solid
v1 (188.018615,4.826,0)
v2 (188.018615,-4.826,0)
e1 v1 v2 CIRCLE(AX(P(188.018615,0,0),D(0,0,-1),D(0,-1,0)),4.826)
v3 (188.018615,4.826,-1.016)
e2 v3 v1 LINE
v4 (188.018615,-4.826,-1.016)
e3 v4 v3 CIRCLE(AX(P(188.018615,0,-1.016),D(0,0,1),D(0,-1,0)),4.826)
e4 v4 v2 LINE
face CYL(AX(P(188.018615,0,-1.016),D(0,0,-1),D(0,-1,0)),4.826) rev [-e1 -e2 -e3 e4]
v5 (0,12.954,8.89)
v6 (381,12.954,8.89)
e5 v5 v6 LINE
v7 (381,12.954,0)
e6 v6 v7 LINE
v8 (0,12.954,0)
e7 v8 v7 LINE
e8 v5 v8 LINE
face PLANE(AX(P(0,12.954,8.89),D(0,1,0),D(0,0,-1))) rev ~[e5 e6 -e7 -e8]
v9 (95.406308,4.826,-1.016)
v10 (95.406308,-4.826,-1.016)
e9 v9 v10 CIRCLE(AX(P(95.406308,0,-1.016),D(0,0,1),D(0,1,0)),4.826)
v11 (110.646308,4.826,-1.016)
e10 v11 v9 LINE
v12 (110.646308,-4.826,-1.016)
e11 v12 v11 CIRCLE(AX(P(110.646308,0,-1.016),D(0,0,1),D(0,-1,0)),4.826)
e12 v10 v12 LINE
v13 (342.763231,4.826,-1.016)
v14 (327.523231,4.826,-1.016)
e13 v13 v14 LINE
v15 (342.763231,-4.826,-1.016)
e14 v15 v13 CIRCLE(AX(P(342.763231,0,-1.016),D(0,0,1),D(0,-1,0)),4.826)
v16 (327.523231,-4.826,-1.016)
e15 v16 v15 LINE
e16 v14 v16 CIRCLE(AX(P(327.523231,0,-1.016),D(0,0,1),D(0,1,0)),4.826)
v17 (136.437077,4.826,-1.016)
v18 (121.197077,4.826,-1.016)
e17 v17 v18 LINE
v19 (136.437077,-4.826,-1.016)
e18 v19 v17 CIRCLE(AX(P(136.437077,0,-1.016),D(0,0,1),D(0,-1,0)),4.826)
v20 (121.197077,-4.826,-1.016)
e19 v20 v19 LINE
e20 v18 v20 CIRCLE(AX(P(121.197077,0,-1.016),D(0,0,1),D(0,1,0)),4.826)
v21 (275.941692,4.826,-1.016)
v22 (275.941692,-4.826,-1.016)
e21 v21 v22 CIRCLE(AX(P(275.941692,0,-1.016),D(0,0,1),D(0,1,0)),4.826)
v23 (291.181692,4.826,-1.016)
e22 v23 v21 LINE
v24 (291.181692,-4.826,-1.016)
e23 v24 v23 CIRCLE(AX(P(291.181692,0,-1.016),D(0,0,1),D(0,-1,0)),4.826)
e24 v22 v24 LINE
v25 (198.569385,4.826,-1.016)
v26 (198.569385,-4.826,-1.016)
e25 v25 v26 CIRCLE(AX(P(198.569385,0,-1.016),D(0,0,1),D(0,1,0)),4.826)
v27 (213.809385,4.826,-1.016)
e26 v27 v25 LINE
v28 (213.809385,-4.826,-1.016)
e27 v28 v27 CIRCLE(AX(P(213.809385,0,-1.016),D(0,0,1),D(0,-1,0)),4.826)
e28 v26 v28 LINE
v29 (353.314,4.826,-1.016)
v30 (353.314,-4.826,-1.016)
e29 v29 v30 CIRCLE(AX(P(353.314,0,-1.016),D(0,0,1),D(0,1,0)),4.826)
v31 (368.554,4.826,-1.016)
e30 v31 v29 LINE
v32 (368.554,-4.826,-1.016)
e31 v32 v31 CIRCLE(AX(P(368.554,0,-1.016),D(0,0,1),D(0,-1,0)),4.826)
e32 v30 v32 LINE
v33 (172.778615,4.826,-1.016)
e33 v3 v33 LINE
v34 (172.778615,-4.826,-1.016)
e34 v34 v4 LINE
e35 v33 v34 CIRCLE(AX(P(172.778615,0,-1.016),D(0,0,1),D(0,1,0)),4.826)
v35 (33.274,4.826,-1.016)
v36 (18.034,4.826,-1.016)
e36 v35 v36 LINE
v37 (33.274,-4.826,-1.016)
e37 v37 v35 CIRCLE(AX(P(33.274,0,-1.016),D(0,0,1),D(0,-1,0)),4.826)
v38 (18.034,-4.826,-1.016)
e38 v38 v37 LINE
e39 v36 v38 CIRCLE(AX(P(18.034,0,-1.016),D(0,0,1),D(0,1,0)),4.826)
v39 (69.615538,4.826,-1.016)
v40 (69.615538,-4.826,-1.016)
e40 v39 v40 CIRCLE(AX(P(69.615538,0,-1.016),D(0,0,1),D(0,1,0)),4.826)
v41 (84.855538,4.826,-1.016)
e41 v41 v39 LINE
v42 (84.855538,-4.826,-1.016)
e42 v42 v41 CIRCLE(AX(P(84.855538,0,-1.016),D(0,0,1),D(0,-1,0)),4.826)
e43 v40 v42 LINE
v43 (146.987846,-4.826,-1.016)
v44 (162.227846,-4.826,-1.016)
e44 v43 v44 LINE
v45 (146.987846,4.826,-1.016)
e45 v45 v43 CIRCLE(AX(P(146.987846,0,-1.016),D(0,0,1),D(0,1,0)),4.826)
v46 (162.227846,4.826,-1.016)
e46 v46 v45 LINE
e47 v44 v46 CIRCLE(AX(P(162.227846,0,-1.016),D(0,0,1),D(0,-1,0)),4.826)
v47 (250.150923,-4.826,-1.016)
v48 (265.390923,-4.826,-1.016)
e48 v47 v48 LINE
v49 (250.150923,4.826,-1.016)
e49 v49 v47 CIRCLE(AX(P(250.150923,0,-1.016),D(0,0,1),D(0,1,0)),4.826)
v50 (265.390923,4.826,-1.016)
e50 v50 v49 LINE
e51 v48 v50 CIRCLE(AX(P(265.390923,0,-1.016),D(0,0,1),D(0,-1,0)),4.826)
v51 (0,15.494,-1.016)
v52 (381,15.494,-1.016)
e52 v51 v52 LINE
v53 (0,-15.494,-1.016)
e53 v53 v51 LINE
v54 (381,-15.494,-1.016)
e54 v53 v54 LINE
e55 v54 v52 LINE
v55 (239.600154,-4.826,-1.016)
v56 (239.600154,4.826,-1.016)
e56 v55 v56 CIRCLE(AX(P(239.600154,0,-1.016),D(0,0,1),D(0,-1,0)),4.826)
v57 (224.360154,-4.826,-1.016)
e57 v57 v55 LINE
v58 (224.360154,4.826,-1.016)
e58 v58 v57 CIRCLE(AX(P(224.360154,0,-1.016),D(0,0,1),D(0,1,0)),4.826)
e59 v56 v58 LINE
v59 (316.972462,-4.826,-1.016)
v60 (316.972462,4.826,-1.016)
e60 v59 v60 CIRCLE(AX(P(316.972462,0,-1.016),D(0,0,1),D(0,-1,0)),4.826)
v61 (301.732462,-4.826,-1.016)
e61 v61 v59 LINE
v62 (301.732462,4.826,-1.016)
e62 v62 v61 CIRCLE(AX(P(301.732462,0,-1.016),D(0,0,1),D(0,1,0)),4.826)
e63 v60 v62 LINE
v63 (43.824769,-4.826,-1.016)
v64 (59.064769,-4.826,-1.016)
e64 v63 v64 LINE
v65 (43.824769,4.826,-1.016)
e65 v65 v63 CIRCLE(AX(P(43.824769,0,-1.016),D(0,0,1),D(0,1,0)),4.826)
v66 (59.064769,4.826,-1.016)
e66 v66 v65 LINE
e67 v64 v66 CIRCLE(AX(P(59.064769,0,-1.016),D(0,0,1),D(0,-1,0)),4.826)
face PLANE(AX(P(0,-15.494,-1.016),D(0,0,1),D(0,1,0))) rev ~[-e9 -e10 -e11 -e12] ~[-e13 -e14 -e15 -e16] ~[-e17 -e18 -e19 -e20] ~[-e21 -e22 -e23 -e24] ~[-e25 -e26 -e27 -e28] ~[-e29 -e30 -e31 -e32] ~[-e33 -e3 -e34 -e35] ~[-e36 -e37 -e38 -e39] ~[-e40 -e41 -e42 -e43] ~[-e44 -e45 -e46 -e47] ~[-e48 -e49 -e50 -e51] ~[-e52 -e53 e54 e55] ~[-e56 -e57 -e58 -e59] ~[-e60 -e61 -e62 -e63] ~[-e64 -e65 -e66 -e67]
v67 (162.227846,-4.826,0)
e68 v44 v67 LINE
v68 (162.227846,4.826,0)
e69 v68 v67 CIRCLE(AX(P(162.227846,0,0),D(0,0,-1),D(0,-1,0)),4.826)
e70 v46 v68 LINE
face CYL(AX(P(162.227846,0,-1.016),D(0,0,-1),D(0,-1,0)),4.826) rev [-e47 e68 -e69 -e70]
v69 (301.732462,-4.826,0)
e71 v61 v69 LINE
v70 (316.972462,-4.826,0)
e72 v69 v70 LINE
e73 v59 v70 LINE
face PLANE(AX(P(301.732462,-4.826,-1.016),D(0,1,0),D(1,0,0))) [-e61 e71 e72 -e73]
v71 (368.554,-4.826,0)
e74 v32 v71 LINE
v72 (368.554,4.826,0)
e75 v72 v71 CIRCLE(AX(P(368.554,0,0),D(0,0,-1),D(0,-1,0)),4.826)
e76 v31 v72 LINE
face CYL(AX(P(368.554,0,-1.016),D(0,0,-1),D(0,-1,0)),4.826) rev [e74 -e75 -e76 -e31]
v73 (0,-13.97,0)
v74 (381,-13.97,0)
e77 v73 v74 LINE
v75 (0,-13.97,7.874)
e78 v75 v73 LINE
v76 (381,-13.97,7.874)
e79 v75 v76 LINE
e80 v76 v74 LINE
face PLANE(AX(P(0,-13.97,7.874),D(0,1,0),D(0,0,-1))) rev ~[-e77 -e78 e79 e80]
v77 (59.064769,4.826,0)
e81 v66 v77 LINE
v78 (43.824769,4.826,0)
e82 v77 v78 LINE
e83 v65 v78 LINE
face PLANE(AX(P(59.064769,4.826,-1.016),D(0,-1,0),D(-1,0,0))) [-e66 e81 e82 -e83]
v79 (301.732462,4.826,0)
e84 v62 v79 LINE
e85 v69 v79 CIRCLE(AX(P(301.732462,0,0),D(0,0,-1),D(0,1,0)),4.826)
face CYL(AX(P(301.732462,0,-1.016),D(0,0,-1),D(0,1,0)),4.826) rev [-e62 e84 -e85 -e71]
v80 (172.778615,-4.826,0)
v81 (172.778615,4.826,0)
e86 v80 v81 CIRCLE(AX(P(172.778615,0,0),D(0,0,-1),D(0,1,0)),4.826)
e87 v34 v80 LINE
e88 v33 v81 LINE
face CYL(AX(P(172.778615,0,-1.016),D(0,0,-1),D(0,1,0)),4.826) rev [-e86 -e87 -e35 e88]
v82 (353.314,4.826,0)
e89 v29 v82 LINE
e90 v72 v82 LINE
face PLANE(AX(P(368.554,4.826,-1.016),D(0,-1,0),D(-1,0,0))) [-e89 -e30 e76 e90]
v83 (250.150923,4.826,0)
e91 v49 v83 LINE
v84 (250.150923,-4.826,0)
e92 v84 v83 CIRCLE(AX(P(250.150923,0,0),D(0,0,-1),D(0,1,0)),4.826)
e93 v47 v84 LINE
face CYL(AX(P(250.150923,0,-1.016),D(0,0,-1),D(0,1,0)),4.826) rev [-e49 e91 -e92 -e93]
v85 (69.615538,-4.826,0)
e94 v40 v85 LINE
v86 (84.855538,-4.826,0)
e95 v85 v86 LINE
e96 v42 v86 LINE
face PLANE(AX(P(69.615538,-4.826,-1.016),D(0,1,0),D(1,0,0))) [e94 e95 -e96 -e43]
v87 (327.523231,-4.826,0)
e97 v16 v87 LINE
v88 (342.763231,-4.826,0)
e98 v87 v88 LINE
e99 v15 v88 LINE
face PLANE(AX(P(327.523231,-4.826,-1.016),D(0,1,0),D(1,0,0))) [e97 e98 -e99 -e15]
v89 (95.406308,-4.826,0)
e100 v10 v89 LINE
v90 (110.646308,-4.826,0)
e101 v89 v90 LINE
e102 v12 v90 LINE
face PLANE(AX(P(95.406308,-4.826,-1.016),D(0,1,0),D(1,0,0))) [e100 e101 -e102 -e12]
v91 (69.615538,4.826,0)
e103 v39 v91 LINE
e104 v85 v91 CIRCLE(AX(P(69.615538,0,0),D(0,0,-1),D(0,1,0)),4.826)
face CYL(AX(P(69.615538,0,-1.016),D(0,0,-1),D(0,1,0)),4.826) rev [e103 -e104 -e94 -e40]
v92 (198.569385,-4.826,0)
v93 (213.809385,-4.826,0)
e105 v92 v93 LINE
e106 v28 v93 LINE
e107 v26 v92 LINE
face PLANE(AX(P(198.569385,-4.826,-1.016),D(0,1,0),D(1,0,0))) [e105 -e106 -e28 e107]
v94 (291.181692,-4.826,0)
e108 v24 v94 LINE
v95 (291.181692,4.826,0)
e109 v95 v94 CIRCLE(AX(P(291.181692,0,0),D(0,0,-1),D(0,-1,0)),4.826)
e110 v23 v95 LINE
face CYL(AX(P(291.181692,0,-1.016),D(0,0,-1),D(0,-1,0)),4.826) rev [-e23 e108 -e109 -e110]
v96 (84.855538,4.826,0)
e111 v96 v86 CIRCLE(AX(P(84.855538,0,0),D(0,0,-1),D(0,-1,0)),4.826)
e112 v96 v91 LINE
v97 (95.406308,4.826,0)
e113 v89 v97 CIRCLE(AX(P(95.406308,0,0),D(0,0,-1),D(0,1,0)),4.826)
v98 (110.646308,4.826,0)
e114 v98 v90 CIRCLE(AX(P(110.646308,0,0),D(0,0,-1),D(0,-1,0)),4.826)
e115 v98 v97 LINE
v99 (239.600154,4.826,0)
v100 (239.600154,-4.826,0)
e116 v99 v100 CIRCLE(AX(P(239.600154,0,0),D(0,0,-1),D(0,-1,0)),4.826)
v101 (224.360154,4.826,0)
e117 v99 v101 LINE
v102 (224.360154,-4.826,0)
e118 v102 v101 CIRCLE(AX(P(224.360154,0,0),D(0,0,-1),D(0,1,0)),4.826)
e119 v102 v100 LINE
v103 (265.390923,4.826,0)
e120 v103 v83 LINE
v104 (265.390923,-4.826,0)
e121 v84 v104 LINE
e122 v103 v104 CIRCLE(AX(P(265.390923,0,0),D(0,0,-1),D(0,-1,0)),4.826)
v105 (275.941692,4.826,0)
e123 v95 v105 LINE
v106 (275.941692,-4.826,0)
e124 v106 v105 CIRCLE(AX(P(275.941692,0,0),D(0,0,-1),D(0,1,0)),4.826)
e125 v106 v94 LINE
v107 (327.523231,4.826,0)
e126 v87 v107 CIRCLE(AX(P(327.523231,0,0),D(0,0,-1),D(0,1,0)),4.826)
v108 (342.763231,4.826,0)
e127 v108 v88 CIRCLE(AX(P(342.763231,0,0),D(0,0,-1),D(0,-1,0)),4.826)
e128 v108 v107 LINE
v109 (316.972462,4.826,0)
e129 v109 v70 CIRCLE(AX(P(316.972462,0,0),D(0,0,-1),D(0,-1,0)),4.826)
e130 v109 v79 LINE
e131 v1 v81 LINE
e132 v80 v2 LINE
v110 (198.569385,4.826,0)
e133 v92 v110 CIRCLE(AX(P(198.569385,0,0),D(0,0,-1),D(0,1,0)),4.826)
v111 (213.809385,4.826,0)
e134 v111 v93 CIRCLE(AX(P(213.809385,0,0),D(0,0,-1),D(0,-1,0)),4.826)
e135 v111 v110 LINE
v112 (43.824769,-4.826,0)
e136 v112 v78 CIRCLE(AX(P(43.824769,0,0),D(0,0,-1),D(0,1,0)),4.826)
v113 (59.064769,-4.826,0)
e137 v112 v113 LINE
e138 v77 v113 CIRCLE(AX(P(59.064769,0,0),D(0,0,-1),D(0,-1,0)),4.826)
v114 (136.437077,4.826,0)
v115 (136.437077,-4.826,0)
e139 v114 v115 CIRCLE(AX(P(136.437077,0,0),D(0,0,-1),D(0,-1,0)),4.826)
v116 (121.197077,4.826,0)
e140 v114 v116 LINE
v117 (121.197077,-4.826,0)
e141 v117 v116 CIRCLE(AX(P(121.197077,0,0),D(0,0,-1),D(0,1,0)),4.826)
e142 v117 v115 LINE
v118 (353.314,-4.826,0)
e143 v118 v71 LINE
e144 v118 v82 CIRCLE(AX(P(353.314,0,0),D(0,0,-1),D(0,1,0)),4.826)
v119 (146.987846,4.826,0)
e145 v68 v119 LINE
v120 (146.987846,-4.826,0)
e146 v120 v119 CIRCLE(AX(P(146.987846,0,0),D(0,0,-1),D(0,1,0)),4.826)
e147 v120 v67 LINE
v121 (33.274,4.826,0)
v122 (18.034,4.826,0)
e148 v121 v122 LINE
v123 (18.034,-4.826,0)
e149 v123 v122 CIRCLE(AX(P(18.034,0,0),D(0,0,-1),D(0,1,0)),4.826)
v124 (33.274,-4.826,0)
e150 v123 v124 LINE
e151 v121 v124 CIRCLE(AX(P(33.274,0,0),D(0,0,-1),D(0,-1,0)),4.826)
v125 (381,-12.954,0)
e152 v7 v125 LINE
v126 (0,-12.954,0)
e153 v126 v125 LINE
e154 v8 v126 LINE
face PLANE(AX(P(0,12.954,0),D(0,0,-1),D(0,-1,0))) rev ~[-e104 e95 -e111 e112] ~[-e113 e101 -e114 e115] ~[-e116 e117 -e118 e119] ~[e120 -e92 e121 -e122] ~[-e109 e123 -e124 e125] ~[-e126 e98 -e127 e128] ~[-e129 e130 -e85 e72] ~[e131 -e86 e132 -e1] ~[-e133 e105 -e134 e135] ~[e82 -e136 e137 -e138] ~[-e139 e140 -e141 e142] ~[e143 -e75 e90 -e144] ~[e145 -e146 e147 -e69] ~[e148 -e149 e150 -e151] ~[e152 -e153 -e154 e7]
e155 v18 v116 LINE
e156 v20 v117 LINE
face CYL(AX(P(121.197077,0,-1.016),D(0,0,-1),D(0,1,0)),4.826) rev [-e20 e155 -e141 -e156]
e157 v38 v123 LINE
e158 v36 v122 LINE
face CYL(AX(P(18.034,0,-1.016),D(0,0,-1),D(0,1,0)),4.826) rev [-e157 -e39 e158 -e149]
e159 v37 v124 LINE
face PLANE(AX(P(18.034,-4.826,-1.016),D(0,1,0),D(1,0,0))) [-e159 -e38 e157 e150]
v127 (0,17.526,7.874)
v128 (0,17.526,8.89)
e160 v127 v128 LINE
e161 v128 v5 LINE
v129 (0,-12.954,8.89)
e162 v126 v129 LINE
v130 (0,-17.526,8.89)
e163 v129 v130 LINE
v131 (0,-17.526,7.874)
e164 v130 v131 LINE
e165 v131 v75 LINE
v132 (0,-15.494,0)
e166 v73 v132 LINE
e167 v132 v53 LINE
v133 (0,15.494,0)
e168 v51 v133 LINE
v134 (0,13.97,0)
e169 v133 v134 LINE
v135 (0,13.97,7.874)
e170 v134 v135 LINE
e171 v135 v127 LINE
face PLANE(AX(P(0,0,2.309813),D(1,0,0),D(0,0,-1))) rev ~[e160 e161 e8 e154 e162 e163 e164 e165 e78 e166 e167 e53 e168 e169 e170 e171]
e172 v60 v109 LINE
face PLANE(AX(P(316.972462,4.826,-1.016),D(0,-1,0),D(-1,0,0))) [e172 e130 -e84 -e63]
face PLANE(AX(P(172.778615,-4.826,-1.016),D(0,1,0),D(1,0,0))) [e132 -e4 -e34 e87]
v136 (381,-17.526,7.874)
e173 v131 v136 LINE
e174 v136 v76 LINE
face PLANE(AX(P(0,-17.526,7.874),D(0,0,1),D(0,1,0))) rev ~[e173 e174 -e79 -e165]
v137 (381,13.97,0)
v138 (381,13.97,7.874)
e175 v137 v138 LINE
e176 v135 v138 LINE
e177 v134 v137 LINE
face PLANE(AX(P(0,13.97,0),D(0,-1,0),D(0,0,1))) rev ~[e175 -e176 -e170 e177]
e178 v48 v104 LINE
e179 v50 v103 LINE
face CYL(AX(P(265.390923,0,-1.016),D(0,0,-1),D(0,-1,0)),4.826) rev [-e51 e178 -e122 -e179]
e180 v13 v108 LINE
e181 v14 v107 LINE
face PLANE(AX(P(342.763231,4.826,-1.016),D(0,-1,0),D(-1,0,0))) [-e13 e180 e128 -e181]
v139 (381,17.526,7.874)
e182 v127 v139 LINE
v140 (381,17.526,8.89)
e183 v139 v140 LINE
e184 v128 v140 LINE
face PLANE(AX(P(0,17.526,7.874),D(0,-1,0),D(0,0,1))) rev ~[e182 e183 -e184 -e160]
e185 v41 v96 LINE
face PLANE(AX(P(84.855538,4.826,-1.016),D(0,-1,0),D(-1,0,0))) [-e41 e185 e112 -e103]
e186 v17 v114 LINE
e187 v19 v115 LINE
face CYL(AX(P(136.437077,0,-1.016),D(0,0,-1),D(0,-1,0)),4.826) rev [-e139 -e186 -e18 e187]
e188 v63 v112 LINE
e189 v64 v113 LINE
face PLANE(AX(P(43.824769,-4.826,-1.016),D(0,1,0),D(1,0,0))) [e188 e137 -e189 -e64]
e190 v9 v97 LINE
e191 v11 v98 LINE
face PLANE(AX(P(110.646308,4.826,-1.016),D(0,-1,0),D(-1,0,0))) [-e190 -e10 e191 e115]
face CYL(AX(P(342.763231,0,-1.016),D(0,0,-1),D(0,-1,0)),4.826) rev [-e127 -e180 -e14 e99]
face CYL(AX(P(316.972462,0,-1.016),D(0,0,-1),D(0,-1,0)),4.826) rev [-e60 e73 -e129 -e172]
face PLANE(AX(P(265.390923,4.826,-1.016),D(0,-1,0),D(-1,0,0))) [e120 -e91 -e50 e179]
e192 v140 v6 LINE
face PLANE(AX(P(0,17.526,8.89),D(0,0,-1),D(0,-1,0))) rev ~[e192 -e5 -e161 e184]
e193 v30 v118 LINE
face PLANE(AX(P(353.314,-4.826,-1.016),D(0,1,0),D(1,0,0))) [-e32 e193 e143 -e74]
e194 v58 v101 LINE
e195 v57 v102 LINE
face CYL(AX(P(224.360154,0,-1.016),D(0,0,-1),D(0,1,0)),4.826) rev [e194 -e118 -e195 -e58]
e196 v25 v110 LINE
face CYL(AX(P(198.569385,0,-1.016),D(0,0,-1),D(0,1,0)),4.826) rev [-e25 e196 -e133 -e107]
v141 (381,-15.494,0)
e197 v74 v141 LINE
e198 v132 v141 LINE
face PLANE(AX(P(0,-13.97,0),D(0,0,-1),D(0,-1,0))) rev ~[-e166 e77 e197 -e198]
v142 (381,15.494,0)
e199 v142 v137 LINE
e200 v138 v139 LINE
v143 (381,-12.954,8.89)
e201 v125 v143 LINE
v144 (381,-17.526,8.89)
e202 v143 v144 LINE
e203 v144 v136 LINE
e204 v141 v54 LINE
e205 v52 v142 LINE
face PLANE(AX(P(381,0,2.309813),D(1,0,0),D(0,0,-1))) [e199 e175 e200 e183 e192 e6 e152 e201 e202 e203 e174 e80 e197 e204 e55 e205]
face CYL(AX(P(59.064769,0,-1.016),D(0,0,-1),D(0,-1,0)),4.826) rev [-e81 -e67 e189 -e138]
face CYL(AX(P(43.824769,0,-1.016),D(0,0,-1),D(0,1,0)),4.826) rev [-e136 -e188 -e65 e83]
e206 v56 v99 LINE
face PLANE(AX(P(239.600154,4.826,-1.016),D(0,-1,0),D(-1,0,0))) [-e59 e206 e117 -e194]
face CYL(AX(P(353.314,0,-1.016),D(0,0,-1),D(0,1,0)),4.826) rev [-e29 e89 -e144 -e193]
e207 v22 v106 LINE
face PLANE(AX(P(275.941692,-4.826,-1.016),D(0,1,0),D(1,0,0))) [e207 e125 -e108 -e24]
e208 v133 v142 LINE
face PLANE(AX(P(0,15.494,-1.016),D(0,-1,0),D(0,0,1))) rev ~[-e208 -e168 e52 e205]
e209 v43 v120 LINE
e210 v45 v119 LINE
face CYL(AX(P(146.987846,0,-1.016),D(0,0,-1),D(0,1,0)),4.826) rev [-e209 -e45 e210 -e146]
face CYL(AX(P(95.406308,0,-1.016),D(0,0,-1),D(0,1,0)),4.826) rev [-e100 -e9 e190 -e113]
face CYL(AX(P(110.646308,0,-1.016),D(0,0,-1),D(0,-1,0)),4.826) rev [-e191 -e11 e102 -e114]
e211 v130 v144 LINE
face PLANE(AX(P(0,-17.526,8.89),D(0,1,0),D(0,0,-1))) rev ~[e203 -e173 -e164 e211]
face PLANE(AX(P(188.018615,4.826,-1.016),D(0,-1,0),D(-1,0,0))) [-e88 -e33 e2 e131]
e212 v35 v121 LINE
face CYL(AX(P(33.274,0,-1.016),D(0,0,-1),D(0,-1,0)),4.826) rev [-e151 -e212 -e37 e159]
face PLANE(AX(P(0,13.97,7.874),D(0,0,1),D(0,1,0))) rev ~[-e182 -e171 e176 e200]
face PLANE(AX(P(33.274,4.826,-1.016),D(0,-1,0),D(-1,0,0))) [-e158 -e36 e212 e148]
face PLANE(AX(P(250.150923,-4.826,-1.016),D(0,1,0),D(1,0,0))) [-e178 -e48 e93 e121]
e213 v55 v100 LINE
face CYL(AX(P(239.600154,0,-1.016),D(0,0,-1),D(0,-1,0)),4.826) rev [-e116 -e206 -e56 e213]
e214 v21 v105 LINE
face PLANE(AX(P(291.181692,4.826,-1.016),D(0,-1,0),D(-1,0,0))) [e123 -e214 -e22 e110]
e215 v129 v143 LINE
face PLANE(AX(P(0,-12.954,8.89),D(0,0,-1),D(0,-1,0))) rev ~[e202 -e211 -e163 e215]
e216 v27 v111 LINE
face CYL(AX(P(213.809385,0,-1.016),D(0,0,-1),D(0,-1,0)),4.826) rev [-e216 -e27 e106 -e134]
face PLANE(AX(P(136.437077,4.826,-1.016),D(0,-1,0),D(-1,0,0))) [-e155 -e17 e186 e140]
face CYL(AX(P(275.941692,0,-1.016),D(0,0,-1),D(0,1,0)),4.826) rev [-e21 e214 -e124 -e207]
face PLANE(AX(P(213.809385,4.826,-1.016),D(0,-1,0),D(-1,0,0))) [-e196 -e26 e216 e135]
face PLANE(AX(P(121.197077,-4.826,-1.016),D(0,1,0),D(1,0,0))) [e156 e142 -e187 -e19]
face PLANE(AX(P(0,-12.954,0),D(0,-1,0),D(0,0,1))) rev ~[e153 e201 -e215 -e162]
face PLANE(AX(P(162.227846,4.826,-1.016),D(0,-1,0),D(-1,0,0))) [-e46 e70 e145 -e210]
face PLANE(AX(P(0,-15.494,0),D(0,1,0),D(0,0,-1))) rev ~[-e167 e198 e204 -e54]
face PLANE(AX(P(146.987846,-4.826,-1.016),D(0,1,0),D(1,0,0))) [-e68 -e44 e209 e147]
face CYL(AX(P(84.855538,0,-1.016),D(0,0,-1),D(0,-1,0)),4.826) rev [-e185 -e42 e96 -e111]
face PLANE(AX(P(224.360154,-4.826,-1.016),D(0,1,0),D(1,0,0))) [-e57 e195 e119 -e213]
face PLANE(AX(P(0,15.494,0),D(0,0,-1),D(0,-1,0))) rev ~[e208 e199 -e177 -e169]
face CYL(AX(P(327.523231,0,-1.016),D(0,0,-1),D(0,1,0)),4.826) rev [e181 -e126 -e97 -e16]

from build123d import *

# Parameters (mm, degrees)
BOSS_EXTRUDE1_DEPTH = 381
CUT_EXTRUDE1_DEPTH  = 382.531505268


with BuildPart() as part:
    # Sketch1 → Boss-Extrude1 (new body)
    with BuildSketch(Plane(origin=(0, 0, 0), x_dir=(0, 0, -1), z_dir=(1, 0, 0))):
        Polygon((0, 12.954), (0, -12.954), (-8.89, -12.954), (-8.89, -17.526), (-7.874, -17.526), (-7.874, -13.97), (0, -13.97), (0, -15.494), (1.016, -15.494), (1.016, 15.494), (0, 15.494), (0, 13.97), (-7.874, 13.97), (-7.874, 17.526), (-8.89, 17.526), (-8.89, 12.954), align=None)
    extrude(amount=BOSS_EXTRUDE1_DEPTH)

    # Sketch2 → Cut-Extrude1 (cut, through all)
    with BuildSketch(Plane(origin=(0, 0, -1.016), x_dir=(-1, 0, 0), z_dir=(0, 0, -1))):
        with BuildLine():
            Line((-368.554, 4.826), (-353.314, 4.826))
            ThreePointArc((-353.314, 4.826), (-348.488, 0), (-353.314, -4.826))
            Line((-353.314, -4.826), (-368.554, -4.826))
            ThreePointArc((-368.554, -4.826), (-373.38, 0), (-368.554, 4.826))
        make_face()
        with BuildLine():
            Line((-342.763230769, 4.826), (-327.523230769, 4.826))
            ThreePointArc((-327.523230769, 4.826), (-322.697230769, 0), (-327.523230769, -4.826))
            Line((-327.523230769, -4.826), (-342.763230769, -4.826))
            ThreePointArc((-342.763230769, -4.826), (-347.589230769, 0), (-342.763230769, 4.826))
        make_face()
        with BuildLine():
            Line((-316.972461538, 4.826), (-301.732461538, 4.826))
            ThreePointArc((-301.732461538, 4.826), (-296.906461538, 0), (-301.732461538, -4.826))
            Line((-301.732461538, -4.826), (-316.972461538, -4.826))
            ThreePointArc((-316.972461538, -4.826), (-321.798461538, 0), (-316.972461538, 4.826))
        make_face()
        with BuildLine():
            Line((-291.181692308, 4.826), (-275.941692308, 4.826))
            ThreePointArc((-275.941692308, 4.826), (-271.115692308, 0), (-275.941692308, -4.826))
            Line((-275.941692308, -4.826), (-291.181692308, -4.826))
            ThreePointArc((-291.181692308, -4.826), (-296.007692308, 0), (-291.181692308, 4.826))
        make_face()
        with BuildLine():
            Line((-265.390923077, 4.826), (-250.150923077, 4.826))
            ThreePointArc((-250.150923077, 4.826), (-245.324923077, 0), (-250.150923077, -4.826))
            Line((-250.150923077, -4.826), (-265.390923077, -4.826))
            ThreePointArc((-265.390923077, -4.826), (-270.216923077, 0), (-265.390923077, 4.826))
        make_face()
        with BuildLine():
            Line((-239.600153846, 4.826), (-224.360153846, 4.826))
            ThreePointArc((-224.360153846, 4.826), (-219.534153846, 0), (-224.360153846, -4.826))
            Line((-224.360153846, -4.826), (-239.600153846, -4.826))
            ThreePointArc((-239.600153846, -4.826), (-244.426153846, 0), (-239.600153846, 4.826))
        make_face()
        with BuildLine():
            Line((-213.809384615, 4.826), (-198.569384615, 4.826))
            ThreePointArc((-198.569384615, 4.826), (-193.743384615, 0), (-198.569384615, -4.826))
            Line((-198.569384615, -4.826), (-213.809384615, -4.826))
            ThreePointArc((-213.809384615, -4.826), (-218.635384615, 0), (-213.809384615, 4.826))
        make_face()
        with BuildLine():
            Line((-188.018615385, 4.826), (-172.778615385, 4.826))
            ThreePointArc((-172.778615385, 4.826), (-167.952615385, 0), (-172.778615385, -4.826))
            Line((-172.778615385, -4.826), (-188.018615385, -4.826))
            ThreePointArc((-188.018615385, -4.826), (-192.844615385, 0), (-188.018615385, 4.826))
        make_face()
        with BuildLine():
            Line((-162.227846154, 4.826), (-146.987846154, 4.826))
            ThreePointArc((-146.987846154, 4.826), (-142.161846154, 0), (-146.987846154, -4.826))
            Line((-146.987846154, -4.826), (-162.227846154, -4.826))
            ThreePointArc((-162.227846154, -4.826), (-167.053846154, 0), (-162.227846154, 4.826))
        make_face()
        with BuildLine():
            Line((-136.437076923, 4.826), (-121.197076923, 4.826))
            ThreePointArc((-121.197076923, 4.826), (-116.371076923, 0), (-121.197076923, -4.826))
            Line((-121.197076923, -4.826), (-136.437076923, -4.826))
            ThreePointArc((-136.437076923, -4.826), (-141.263076923, 0), (-136.437076923, 4.826))
        make_face()
        with BuildLine():
            Line((-110.646307692, 4.826), (-95.406307692, 4.826))
            ThreePointArc((-95.406307692, 4.826), (-90.580307692, 0), (-95.406307692, -4.826))
            Line((-95.406307692, -4.826), (-110.646307692, -4.826))
            ThreePointArc((-110.646307692, -4.826), (-115.472307692, 0), (-110.646307692, 4.826))
        make_face()
        with BuildLine():
            Line((-84.855538462, 4.826), (-69.615538462, 4.826))
            ThreePointArc((-69.615538462, 4.826), (-64.789538462, 0), (-69.615538462, -4.826))
            Line((-69.615538462, -4.826), (-84.855538462, -4.826))
            ThreePointArc((-84.855538462, -4.826), (-89.681538462, 0), (-84.855538462, 4.826))
        make_face()
        with BuildLine():
            Line((-59.064769231, 4.826), (-43.824769231, 4.826))
            ThreePointArc((-43.824769231, 4.826), (-38.998769231, 0), (-43.824769231, -4.826))
            Line((-43.824769231, -4.826), (-59.064769231, -4.826))
            ThreePointArc((-59.064769231, -4.826), (-63.890769231, 0), (-59.064769231, 4.826))
        make_face()
        with BuildLine():
            Line((-33.274, 4.826), (-18.034, 4.826))
            ThreePointArc((-18.034, 4.826), (-13.208, 0), (-18.034, -4.826))
            Line((-18.034, -4.826), (-33.274, -4.826))
            ThreePointArc((-33.274, -4.826), (-38.1, 0), (-33.274, 4.826))
        make_face()
    extrude(amount=-CUT_EXTRUDE1_DEPTH, mode=Mode.SUBTRACT)


solid = part.part
